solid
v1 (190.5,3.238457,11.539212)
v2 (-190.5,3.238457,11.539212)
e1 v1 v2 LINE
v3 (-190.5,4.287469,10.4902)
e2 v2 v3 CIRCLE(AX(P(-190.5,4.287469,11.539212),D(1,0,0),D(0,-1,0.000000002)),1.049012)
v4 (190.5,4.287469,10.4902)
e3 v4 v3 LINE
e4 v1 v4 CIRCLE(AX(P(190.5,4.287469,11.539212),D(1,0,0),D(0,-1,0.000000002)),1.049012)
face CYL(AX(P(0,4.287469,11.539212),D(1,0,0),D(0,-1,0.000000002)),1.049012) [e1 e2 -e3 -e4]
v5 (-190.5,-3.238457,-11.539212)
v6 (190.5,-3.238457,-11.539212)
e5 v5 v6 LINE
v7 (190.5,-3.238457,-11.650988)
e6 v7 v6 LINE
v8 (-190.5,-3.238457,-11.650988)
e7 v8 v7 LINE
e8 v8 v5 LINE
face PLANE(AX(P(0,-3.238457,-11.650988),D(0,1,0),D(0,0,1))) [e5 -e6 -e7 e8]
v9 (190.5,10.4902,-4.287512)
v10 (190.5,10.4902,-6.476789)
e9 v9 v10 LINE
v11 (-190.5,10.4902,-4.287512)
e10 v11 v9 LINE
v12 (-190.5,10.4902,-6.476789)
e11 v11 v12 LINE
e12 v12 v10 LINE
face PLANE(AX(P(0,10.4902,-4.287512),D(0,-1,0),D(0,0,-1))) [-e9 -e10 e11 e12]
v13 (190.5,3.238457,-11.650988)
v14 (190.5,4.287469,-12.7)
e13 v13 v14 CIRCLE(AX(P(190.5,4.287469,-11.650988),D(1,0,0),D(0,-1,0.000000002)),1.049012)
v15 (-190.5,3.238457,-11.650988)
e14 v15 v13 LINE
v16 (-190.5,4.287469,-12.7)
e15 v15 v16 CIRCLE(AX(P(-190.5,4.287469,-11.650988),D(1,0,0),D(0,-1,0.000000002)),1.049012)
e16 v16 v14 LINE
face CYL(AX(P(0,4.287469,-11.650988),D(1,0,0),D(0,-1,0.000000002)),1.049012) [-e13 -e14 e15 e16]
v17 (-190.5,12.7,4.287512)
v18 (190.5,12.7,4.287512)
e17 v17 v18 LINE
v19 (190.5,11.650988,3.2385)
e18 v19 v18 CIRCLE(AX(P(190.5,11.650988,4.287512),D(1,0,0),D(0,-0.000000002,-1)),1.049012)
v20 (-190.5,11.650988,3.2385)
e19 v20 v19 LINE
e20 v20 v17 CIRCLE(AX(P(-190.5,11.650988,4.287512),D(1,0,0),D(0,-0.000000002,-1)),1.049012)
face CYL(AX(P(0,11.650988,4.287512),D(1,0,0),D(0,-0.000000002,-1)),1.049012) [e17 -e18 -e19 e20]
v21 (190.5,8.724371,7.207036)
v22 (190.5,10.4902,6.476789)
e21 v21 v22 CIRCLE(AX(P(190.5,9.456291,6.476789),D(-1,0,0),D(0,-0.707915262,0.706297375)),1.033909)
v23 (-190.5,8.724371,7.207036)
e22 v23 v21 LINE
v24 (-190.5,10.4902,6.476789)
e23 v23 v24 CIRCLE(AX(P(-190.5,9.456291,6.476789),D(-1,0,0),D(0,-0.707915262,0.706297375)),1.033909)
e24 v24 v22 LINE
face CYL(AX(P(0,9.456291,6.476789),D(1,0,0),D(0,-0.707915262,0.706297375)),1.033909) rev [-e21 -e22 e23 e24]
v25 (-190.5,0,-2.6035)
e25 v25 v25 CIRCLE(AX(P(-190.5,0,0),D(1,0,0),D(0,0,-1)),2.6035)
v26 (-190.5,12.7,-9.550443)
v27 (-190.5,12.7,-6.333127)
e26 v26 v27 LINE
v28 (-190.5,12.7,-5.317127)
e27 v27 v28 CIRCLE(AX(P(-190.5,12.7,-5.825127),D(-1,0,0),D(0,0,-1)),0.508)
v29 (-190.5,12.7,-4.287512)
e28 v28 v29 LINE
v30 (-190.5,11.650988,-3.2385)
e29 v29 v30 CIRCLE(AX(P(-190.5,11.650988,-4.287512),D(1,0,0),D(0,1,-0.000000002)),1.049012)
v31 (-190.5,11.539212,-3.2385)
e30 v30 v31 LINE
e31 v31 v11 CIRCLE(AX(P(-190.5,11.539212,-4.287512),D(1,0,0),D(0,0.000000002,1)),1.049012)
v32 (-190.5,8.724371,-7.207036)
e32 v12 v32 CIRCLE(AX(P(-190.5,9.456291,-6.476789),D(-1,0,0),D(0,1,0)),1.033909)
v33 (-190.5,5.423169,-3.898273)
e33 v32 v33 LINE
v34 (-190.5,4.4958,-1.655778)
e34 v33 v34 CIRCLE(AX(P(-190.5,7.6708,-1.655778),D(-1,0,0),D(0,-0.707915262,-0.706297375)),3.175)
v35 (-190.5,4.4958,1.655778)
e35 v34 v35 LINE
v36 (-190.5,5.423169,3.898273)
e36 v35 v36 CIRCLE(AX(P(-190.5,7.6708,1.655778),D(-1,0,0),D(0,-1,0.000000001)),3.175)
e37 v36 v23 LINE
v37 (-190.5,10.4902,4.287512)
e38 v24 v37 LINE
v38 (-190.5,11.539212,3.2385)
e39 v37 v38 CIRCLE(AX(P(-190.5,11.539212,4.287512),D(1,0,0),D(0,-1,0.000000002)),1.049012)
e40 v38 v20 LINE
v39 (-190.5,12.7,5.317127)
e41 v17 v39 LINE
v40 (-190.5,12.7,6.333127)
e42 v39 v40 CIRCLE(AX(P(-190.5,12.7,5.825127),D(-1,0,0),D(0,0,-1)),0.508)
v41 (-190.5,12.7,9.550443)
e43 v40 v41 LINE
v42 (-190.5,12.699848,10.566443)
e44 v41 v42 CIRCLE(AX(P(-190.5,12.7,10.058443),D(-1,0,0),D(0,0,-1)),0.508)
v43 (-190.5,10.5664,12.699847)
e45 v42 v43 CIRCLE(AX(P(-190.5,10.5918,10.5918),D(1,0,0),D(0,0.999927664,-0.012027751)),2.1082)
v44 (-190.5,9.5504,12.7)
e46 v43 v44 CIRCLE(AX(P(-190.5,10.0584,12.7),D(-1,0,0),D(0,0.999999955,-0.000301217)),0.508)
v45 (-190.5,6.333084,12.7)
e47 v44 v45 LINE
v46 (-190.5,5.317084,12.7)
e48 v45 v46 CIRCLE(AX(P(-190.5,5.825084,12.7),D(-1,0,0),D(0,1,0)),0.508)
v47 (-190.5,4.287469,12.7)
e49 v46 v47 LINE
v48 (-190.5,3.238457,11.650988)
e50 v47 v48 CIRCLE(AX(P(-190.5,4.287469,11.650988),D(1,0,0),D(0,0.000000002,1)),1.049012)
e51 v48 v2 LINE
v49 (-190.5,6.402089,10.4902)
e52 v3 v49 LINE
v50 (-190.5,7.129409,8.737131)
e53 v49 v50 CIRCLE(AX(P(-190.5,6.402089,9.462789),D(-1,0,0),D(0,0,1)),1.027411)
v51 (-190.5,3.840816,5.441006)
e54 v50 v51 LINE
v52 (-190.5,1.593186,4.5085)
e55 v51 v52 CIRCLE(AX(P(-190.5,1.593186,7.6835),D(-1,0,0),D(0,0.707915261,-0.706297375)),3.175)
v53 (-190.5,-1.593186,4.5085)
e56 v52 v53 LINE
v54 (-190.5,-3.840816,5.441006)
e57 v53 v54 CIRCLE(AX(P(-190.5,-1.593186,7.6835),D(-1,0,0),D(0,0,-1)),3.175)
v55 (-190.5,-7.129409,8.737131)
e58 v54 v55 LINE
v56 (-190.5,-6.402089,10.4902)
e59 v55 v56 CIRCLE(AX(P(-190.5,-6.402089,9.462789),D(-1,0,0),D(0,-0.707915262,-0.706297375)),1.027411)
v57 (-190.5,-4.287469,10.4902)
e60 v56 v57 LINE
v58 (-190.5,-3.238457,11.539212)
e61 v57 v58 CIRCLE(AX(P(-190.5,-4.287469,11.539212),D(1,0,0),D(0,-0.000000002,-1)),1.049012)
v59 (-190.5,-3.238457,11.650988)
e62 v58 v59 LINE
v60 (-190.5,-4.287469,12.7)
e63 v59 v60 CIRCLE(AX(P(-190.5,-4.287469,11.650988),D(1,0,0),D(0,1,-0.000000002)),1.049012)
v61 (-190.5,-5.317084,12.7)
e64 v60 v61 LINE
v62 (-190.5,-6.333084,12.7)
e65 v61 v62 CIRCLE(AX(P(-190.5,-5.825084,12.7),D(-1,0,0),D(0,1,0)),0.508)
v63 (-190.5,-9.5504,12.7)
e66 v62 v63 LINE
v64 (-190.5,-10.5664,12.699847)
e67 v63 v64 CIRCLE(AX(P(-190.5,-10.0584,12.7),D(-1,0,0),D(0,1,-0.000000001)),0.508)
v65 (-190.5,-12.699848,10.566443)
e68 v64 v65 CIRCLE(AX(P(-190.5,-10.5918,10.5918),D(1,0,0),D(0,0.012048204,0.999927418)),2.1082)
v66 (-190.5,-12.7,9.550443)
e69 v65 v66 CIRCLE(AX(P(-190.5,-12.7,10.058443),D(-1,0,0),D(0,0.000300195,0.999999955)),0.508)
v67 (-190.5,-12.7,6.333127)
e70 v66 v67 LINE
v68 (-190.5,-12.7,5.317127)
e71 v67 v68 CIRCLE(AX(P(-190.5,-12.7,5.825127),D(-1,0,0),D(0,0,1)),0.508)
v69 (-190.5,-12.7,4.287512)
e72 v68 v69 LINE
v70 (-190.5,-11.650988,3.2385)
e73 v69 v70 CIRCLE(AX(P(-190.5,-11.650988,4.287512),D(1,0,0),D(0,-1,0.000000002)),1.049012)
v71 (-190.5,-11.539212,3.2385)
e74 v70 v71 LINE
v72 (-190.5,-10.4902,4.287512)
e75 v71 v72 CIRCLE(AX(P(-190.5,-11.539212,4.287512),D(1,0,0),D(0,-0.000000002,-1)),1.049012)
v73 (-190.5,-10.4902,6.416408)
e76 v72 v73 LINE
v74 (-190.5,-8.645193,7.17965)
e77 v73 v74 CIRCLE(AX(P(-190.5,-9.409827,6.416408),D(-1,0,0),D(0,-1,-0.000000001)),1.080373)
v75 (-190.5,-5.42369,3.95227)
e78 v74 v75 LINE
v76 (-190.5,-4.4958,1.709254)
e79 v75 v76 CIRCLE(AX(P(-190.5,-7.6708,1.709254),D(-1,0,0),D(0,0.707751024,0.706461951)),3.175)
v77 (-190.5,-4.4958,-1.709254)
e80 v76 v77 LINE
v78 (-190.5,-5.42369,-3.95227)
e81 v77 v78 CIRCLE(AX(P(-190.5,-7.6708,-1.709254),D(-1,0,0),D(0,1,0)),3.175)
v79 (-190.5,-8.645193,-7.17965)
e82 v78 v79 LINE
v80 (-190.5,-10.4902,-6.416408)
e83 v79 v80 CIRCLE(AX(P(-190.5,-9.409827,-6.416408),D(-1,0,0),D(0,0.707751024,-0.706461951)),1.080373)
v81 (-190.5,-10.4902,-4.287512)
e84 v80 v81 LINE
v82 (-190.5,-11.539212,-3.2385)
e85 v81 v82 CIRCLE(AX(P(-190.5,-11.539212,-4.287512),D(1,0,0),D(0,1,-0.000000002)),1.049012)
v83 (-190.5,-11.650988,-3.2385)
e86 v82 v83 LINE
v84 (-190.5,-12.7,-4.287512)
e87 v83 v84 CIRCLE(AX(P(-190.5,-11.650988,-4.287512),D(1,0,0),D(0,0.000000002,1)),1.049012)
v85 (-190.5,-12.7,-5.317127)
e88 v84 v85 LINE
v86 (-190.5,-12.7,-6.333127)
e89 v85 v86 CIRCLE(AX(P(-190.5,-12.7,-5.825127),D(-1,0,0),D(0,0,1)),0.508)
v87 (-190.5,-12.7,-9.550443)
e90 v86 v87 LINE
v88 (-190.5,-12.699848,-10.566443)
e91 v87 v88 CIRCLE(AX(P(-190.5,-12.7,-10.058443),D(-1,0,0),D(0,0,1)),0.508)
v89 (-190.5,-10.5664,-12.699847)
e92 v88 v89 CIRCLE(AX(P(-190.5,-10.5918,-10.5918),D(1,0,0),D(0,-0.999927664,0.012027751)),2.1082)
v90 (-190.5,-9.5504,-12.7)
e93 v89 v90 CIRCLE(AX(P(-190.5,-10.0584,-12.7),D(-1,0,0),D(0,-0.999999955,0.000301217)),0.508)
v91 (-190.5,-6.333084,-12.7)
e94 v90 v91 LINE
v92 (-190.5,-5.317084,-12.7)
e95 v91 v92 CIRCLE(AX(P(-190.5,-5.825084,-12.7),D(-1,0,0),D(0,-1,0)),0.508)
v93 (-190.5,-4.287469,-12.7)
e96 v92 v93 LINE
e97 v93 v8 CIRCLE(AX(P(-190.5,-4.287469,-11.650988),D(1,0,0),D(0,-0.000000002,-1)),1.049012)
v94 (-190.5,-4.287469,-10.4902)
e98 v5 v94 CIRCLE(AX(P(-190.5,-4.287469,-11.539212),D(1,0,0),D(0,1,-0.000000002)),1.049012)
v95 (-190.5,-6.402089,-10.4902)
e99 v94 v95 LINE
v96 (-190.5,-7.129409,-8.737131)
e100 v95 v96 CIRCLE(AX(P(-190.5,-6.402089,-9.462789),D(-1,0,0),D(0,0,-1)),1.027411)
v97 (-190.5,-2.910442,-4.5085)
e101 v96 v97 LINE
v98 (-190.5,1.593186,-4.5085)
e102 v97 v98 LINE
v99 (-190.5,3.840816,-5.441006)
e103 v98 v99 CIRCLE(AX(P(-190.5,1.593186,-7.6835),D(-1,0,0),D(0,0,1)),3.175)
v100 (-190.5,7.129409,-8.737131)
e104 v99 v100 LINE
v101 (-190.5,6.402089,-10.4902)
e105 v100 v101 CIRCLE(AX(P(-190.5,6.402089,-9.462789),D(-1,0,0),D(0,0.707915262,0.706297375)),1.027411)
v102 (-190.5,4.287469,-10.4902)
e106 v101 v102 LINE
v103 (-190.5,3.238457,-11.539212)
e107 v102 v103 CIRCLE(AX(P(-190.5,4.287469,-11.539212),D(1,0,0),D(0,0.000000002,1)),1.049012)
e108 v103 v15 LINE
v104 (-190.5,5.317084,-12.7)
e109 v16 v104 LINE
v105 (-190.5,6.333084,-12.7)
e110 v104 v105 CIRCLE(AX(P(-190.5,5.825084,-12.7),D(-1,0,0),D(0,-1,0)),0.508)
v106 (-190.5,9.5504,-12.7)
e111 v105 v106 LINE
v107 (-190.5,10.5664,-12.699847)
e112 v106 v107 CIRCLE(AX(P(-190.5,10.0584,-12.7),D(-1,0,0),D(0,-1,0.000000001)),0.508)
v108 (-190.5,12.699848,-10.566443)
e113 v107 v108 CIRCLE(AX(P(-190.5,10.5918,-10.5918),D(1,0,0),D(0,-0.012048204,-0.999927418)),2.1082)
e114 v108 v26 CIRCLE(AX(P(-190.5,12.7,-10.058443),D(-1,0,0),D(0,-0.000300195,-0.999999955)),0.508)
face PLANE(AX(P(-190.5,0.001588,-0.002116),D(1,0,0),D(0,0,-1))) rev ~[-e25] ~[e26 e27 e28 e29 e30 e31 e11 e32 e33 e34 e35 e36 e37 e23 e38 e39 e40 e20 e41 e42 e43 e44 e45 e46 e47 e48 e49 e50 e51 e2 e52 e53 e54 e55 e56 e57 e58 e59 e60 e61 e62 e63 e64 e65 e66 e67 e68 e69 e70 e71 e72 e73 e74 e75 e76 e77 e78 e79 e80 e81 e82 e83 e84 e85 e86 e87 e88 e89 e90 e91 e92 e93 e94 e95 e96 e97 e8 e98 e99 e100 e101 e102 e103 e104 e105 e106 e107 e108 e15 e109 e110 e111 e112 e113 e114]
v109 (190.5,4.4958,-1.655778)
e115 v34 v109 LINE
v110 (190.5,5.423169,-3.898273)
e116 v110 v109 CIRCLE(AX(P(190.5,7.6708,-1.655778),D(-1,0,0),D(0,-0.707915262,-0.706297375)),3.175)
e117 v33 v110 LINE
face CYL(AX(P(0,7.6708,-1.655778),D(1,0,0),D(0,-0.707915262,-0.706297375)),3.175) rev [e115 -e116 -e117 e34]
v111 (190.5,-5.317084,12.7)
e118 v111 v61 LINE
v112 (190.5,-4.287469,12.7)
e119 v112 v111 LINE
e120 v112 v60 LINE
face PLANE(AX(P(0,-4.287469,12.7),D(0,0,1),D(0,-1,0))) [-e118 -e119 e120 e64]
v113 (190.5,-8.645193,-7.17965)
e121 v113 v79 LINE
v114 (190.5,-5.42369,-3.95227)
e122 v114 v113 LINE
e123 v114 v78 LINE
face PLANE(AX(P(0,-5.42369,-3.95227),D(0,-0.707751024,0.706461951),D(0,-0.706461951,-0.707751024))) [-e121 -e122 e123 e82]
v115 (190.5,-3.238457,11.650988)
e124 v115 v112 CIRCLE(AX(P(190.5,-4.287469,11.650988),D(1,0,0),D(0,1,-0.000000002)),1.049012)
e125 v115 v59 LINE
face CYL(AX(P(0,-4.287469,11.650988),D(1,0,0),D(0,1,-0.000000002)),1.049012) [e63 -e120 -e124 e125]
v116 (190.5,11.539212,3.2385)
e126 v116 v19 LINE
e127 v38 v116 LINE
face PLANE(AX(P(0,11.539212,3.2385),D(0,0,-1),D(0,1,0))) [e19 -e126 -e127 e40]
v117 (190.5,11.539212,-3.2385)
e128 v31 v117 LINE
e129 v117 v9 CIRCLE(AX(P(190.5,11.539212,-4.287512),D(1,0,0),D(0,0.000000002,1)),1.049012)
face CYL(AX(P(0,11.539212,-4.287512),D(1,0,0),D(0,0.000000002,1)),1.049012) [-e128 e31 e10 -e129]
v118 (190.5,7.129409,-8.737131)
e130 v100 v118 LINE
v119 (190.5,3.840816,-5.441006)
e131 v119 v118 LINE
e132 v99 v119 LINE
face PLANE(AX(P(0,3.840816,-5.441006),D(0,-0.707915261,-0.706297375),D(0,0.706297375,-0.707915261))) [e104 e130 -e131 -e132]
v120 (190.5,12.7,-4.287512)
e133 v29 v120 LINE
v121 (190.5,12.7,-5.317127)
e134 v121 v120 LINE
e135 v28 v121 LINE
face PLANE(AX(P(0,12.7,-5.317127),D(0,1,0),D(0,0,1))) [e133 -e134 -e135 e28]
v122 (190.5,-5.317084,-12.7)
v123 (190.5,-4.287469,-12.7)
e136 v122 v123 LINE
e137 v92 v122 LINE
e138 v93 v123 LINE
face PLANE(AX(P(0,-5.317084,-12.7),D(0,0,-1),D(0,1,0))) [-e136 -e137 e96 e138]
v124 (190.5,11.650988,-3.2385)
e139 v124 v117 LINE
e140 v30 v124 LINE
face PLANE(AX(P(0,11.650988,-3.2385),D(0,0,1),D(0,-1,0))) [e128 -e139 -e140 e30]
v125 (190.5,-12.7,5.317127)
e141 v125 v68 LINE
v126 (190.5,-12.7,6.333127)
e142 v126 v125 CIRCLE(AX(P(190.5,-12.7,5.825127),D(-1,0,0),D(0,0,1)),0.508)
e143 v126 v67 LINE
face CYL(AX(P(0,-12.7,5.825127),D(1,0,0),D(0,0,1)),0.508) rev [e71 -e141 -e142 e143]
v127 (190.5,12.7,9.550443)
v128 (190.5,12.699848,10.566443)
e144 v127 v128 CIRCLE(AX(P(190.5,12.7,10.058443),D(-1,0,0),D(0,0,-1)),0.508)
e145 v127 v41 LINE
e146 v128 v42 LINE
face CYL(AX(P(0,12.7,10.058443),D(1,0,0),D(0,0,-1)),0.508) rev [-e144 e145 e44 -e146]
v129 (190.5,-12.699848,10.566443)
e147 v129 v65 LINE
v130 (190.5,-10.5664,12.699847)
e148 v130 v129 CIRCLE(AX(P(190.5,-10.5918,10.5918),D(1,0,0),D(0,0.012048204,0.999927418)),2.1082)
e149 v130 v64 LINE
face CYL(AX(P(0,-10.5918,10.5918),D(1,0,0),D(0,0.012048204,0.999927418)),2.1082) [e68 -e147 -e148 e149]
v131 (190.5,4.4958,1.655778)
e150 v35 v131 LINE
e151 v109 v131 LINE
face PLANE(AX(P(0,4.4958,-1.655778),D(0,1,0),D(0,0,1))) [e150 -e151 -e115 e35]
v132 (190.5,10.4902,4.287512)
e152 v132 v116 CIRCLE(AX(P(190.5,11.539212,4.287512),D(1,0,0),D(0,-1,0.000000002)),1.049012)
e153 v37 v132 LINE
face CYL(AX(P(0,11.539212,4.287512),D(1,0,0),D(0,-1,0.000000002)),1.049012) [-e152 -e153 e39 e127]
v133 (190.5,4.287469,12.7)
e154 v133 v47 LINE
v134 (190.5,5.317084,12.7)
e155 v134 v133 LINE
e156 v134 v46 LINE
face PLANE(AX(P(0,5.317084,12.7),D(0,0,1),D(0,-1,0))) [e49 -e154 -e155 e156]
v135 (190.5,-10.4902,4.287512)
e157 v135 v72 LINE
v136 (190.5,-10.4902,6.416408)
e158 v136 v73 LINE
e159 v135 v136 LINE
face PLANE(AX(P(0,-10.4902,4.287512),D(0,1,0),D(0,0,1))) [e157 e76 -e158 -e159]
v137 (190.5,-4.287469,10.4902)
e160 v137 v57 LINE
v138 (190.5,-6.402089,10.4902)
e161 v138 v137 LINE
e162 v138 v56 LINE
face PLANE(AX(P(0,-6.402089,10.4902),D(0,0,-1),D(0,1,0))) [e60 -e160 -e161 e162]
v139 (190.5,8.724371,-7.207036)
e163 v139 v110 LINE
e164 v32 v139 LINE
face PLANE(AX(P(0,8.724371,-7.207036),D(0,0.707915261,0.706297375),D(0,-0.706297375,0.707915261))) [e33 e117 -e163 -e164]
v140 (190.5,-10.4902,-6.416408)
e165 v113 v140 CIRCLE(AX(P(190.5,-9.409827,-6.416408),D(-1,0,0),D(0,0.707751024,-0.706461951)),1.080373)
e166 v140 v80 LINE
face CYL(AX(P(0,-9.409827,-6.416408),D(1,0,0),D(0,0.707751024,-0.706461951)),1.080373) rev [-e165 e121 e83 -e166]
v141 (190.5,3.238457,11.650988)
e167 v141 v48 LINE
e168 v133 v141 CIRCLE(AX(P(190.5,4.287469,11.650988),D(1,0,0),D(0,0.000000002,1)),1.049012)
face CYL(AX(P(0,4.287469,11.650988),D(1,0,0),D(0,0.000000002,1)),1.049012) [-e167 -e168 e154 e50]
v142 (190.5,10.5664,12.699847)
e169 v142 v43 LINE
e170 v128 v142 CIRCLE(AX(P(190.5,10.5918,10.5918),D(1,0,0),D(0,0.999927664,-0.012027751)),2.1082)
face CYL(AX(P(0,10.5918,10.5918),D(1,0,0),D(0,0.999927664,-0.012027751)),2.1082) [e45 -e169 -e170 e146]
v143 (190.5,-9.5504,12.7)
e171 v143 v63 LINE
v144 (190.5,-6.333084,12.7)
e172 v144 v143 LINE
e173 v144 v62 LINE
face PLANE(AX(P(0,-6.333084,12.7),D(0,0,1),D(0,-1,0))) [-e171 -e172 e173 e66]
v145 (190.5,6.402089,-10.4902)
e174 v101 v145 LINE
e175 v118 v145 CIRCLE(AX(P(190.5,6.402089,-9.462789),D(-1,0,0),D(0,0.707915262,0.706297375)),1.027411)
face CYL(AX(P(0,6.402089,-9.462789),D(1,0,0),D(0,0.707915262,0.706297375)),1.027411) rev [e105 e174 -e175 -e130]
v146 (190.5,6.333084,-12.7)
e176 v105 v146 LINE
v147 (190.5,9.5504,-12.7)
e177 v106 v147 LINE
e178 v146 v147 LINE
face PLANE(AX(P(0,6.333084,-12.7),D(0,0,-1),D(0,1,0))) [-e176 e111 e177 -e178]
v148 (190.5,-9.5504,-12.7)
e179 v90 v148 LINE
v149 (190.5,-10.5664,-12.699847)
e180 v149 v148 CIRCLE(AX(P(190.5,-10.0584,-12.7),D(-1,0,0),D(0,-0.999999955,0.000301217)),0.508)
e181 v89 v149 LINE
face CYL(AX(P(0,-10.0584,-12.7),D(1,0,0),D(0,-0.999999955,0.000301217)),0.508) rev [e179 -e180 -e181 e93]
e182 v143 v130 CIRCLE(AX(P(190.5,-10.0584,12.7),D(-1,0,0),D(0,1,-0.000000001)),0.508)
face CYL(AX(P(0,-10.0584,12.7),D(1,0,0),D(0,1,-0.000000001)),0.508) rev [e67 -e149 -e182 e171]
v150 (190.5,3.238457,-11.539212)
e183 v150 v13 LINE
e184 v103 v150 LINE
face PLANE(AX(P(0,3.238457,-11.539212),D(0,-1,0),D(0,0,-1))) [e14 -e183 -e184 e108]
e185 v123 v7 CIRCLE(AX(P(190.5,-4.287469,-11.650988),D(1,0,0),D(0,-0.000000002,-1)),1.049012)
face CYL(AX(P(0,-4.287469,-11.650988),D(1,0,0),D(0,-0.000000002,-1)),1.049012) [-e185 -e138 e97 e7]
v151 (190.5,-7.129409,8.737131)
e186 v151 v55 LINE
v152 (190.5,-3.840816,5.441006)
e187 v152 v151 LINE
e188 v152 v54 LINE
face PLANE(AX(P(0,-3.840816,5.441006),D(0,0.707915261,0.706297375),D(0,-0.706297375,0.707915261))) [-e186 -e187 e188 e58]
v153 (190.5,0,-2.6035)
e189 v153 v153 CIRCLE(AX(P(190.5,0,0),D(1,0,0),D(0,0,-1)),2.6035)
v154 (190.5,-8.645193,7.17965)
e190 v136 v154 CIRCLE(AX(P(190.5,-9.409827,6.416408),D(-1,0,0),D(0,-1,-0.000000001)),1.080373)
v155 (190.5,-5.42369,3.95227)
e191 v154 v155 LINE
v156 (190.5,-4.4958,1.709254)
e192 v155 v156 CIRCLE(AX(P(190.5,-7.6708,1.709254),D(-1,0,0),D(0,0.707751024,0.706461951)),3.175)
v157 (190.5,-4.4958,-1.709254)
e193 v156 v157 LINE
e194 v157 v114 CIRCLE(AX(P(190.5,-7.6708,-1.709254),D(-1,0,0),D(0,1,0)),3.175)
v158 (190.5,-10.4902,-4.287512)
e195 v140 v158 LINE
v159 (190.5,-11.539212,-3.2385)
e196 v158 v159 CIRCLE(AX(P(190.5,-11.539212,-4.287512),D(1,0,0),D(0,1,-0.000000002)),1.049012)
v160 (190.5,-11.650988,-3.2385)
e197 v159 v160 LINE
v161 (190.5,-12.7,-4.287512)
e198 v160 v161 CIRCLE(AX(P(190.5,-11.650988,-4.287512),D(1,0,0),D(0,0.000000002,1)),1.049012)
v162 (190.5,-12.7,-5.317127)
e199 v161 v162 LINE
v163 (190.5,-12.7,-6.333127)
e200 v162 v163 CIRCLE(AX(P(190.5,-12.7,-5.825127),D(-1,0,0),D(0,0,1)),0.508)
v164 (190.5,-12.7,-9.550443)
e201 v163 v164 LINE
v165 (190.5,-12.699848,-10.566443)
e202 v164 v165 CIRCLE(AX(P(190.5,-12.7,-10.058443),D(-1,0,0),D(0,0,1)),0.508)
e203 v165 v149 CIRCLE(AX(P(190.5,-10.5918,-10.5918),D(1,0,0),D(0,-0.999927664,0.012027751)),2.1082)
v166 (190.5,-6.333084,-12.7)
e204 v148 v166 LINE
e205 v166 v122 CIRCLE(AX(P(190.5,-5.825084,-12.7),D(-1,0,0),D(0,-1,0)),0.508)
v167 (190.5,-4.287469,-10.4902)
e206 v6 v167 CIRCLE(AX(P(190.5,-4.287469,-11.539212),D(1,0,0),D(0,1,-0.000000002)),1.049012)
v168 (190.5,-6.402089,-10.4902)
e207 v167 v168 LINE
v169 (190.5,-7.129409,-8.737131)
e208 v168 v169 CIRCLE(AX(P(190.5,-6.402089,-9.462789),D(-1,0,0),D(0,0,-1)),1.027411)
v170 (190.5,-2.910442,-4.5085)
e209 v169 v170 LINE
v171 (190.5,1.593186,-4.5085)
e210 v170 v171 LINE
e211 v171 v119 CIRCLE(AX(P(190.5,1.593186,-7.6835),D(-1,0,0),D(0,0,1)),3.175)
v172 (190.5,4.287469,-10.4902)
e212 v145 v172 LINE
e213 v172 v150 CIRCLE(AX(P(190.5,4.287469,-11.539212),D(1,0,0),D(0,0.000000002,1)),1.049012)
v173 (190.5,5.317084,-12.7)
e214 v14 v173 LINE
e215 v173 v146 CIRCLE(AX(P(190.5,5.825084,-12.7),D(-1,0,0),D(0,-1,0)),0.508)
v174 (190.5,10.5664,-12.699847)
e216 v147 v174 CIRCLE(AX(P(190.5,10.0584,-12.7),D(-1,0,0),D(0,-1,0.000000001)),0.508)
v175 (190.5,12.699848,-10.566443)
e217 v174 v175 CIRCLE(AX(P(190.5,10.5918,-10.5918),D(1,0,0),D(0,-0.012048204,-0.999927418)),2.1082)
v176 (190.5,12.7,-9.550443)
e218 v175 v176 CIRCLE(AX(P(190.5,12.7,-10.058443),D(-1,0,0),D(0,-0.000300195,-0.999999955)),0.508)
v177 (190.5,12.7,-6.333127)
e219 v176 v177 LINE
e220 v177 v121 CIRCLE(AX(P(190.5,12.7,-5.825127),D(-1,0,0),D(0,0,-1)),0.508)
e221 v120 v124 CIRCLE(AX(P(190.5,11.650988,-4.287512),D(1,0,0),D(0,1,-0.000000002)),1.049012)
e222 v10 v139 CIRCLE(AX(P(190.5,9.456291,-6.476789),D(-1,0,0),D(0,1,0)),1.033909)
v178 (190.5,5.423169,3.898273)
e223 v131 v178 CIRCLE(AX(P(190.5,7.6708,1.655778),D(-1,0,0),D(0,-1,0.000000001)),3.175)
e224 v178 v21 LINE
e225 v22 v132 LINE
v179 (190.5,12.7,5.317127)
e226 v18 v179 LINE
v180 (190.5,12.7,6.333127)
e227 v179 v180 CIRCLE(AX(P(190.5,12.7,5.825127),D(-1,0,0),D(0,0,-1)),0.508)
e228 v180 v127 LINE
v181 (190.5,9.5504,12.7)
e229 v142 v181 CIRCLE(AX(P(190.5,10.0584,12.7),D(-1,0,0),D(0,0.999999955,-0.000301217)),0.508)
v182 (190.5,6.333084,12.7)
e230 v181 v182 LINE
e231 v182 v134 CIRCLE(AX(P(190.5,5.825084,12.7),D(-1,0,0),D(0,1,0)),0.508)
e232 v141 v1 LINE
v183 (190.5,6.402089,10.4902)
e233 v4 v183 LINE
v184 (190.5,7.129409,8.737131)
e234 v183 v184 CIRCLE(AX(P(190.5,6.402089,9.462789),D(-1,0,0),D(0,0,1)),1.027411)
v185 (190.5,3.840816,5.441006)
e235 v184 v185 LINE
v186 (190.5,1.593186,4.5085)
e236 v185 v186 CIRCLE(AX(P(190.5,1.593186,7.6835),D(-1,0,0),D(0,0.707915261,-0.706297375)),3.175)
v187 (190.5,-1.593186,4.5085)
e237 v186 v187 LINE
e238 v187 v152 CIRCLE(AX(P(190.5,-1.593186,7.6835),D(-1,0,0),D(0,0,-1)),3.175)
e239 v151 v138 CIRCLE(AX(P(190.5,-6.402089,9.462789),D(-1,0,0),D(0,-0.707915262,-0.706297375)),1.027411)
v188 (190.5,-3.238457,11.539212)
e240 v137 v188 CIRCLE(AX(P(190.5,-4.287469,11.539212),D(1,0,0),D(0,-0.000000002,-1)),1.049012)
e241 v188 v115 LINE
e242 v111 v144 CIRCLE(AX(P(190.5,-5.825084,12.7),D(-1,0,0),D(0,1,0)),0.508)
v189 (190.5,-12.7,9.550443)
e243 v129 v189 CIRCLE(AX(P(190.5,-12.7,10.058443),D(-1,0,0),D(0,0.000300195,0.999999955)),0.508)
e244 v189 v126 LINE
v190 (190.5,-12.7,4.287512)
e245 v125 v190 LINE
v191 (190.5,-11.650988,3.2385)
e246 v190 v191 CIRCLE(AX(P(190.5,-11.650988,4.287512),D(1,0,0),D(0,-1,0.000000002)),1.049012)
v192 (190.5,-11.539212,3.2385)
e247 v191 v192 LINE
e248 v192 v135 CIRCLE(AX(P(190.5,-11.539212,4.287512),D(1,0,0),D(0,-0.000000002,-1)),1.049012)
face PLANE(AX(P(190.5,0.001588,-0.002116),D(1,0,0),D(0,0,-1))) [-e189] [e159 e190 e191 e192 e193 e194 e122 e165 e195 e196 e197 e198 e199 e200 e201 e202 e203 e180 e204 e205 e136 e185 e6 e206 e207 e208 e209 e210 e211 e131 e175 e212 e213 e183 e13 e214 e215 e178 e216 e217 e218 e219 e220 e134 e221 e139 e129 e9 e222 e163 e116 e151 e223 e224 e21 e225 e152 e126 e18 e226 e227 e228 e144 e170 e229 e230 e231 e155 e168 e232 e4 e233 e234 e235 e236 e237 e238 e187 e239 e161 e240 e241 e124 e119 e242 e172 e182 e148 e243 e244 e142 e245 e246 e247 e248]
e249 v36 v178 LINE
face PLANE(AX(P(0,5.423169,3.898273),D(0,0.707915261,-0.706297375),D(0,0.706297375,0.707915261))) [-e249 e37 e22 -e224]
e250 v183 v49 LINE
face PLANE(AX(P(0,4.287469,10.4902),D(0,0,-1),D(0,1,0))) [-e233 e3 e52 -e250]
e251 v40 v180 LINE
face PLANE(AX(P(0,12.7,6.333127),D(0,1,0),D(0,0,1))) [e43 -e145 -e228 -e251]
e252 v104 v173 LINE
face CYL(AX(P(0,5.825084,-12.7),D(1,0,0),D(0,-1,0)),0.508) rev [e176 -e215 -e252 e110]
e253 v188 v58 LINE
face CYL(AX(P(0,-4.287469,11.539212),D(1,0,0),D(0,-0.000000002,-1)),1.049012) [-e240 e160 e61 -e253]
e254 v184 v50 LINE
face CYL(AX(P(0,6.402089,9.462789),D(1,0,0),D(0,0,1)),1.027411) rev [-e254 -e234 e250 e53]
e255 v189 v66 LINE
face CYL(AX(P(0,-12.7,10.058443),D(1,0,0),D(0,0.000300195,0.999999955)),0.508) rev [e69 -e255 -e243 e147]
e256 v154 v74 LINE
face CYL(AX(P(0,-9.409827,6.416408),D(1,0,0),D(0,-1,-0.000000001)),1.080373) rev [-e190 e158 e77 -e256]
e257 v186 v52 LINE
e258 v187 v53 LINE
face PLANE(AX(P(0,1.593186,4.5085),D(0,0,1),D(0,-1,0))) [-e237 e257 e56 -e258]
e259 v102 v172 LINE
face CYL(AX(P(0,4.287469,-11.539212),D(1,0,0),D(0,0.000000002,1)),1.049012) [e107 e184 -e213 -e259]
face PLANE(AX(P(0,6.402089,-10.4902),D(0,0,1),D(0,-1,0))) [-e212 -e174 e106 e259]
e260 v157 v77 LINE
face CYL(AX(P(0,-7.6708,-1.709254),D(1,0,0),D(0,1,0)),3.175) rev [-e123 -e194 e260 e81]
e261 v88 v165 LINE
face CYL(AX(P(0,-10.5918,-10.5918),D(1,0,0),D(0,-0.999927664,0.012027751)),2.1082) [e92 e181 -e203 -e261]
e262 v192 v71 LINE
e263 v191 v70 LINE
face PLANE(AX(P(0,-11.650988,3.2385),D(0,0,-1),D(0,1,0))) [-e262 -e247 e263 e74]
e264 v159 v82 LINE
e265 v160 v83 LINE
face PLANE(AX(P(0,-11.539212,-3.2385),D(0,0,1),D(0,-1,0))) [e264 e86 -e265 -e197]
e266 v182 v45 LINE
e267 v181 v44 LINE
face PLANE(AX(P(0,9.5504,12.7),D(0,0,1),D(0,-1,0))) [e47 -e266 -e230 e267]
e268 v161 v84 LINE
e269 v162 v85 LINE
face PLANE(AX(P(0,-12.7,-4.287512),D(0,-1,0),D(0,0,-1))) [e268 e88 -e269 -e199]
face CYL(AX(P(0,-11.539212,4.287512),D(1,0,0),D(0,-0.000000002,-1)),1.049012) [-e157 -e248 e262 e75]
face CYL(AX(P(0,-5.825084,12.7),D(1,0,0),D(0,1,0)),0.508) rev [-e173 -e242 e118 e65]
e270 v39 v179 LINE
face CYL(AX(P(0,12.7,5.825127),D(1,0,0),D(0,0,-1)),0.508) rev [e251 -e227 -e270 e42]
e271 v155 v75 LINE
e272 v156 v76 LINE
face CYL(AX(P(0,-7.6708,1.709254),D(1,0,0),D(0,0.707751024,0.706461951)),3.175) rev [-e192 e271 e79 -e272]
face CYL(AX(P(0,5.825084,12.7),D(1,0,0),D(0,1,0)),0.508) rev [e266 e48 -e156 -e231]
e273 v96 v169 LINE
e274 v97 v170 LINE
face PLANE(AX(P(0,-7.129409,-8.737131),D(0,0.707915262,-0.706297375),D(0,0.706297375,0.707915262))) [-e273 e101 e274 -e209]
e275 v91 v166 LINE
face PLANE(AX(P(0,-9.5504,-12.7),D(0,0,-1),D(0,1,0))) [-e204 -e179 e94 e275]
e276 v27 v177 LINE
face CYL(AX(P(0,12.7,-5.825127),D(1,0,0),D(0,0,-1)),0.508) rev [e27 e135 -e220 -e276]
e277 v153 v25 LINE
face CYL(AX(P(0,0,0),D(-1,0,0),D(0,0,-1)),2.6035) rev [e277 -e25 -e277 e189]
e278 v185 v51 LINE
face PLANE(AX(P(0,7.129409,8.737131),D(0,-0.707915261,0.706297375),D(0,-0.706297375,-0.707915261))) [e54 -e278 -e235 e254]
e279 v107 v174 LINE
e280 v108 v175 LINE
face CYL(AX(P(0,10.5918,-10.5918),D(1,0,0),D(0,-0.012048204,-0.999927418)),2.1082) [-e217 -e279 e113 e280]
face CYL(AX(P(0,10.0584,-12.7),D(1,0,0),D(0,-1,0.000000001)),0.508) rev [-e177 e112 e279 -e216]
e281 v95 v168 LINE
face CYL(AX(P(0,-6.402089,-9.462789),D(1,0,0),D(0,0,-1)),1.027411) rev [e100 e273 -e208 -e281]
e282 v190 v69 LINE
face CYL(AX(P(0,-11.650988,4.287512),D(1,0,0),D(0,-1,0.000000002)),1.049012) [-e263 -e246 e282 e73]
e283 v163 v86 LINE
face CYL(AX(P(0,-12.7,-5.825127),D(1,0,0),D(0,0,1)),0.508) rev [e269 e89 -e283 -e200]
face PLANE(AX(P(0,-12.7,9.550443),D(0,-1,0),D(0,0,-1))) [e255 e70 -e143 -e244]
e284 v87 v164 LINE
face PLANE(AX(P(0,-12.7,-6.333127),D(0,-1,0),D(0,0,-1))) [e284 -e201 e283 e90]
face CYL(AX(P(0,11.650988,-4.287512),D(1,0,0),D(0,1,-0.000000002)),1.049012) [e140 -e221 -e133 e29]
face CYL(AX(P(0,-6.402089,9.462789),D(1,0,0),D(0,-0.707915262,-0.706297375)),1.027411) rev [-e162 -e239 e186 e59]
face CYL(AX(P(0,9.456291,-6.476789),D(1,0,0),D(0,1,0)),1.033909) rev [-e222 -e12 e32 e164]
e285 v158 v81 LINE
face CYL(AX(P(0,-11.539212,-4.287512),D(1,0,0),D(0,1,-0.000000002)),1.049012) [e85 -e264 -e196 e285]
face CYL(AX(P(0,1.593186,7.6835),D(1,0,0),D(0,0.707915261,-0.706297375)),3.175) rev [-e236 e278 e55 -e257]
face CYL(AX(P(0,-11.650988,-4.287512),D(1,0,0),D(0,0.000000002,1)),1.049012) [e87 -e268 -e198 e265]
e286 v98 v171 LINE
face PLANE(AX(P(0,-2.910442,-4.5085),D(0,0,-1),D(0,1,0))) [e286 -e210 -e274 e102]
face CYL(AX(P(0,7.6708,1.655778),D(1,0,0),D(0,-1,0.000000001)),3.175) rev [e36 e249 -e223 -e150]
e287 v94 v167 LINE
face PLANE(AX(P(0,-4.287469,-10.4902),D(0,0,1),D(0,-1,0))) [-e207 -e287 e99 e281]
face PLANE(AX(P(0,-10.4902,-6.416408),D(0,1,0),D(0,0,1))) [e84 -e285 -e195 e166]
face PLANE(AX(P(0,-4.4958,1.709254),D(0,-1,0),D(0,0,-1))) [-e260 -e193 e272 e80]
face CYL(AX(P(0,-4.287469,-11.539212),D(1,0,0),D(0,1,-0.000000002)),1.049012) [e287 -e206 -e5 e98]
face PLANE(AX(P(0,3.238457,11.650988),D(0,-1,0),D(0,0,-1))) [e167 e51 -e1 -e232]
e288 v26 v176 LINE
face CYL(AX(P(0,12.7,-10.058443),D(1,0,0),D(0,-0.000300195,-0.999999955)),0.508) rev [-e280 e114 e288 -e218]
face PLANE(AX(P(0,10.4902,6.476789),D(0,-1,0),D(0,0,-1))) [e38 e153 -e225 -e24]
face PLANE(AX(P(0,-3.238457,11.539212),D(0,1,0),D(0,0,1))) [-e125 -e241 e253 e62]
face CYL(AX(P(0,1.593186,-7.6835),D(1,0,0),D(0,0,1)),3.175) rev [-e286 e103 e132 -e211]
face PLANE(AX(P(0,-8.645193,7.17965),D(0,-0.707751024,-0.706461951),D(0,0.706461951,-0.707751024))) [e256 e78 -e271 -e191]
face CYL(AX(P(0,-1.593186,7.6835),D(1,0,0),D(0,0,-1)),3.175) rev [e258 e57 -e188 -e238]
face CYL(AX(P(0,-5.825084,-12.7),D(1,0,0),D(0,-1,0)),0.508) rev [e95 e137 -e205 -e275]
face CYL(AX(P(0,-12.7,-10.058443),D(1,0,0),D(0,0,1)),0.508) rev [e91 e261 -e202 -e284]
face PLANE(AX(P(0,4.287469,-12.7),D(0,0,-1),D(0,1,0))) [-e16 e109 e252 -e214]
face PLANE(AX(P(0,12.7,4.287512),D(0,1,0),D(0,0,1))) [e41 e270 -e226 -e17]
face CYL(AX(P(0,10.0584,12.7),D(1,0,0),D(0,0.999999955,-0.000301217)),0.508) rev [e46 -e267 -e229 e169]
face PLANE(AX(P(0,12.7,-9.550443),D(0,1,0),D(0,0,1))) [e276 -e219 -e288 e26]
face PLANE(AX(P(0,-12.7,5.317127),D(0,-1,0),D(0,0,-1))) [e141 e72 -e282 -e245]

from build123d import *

# Parameters (mm, degrees)
SKETCH1_R           = 2.6035
BOSS_EXTRUDE1_DEPTH = 190.5


with BuildPart() as part:
    # Sketch1 → Boss-Extrude1 (new body, symmetric)
    with BuildSketch(Plane(origin=(0, 0, 0), x_dir=(0, 0, -1), z_dir=(1, 0, 0))):
        with BuildLine():
            Line((6.333126718, -12.7), (9.550443118, -12.7))
            ThreePointArc((9.550443118, -12.7), (10.058366869, -12.192000006), (10.566443095, -12.699847501))
            ThreePointArc((10.566443095, -12.699847501), (12.082537762, -12.08250727), (12.699846982, -10.566399977))
            ThreePointArc((12.699846982, -10.566399977), (12.192000006, -10.058323491), (12.7, -9.5504))
            Line((12.7, -9.5504), (12.7, -6.3330836))
            ThreePointArc((12.7, -6.3330836), (12.192, -5.8250836), (12.7, -5.3170836))
            Line((12.7, -5.3170836), (12.7, -4.287469289))
            ThreePointArc((12.7, -4.287469289), (12.39275138, -3.545705502), (11.650987593, -3.238456882))
            Line((11.650987593, -3.238456882), (11.539212407, -3.238456882))
            ThreePointArc((11.539212407, -3.238456882), (10.79744862, -3.545705502), (10.4902, -4.287469289))
            Line((10.4902, -4.287469289), (10.4902, -6.402089023))
            ThreePointArc((10.4902, -6.402089023), (9.856505071, -7.351067942), (8.737131347, -7.129408934))
            Line((8.737131347, -7.129408934), (4.5085, -2.9104418))
            Line((4.5085, -2.9104418), (4.5085, 1.593185507))
            ThreePointArc((4.5085, 1.593185507), (4.750877967, 2.809883091), (5.441005833, 3.840816462))
            Line((5.441005833, 3.840816462), (8.737131347, 7.129408934))
            ThreePointArc((8.737131347, 7.129408934), (9.856505071, 7.351067942), (10.4902, 6.402089023))
            Line((10.4902, 6.402089023), (10.4902, 4.287469289))
            ThreePointArc((10.4902, 4.287469289), (10.79744862, 3.545705502), (11.539212407, 3.238456882))
            Line((11.539212407, 3.238456882), (11.650987593, 3.238456882))
            ThreePointArc((11.650987593, 3.238456882), (12.39275138, 3.545705502), (12.7, 4.287469289))
            Line((12.7, 4.287469289), (12.7, 5.3170836))
            ThreePointArc((12.7, 5.3170836), (12.192, 5.8250836), (12.7, 6.3330836))
            Line((12.7, 6.3330836), (12.7, 9.5504))
            ThreePointArc((12.7, 9.5504), (12.192000006, 10.058323491), (12.699846982, 10.566399977))
            ThreePointArc((12.699846982, 10.566399977), (12.082537762, 12.08250727), (10.566443095, 12.699847501))
            ThreePointArc((10.566443095, 12.699847501), (10.058366869, 12.192000006), (9.550443118, 12.7))
            Line((9.550443118, 12.7), (6.333126718, 12.7))
            ThreePointArc((6.333126718, 12.7), (5.825126718, 12.192), (5.317126718, 12.7))
            Line((5.317126718, 12.7), (4.287512407, 12.7))
            ThreePointArc((4.287512407, 12.7), (3.54574862, 12.39275138), (3.2385, 11.650987593))
            Line((3.2385, 11.650987593), (3.2385, 11.539212407))
            ThreePointArc((3.2385, 11.539212407), (3.54574862, 10.79744862), (4.287512407, 10.4902))
            Line((4.287512407, 10.4902), (6.476788598, 10.4902))
            ThreePointArc((6.476788598, 10.4902), (7.432222385, 9.85140422), (7.207036008, 8.724370562))
            Line((7.207036008, 8.724370562), (3.898272566, 5.423169045))
            ThreePointArc((3.898272566, 5.423169045), (2.869120213, 4.736787962), (1.655778399, 4.4958))
            Line((1.655778399, 4.4958), (-1.655778399, 4.4958))
            ThreePointArc((-1.655778399, 4.4958), (-2.869120213, 4.736787962), (-3.898272566, 5.423169045))
            Line((-3.898272566, 5.423169045), (-7.207036008, 8.724370562))
            ThreePointArc((-7.207036008, 8.724370562), (-7.432222385, 9.85140422), (-6.476788598, 10.4902))
            Line((-6.476788598, 10.4902), (-4.287512407, 10.4902))
            ThreePointArc((-4.287512407, 10.4902), (-3.54574862, 10.79744862), (-3.2385, 11.539212407))
            Line((-3.2385, 11.539212407), (-3.2385, 11.650987593))
            ThreePointArc((-3.2385, 11.650987593), (-3.54574862, 12.39275138), (-4.287512407, 12.7))
            Line((-4.287512407, 12.7), (-5.317126718, 12.7))
            ThreePointArc((-5.317126718, 12.7), (-5.825126718, 12.192), (-6.333126718, 12.7))
            Line((-6.333126718, 12.7), (-9.550443118, 12.7))
            ThreePointArc((-9.550443118, 12.7), (-10.058366869, 12.192000006), (-10.566443095, 12.699847501))
            ThreePointArc((-10.566443095, 12.699847501), (-12.082537762, 12.08250727), (-12.699846982, 10.566399977))
            ThreePointArc((-12.699846982, 10.566399977), (-12.192000006, 10.058323491), (-12.7, 9.5504))
            Line((-12.7, 9.5504), (-12.7, 6.3330836))
            ThreePointArc((-12.7, 6.3330836), (-12.192, 5.8250836), (-12.7, 5.3170836))
            Line((-12.7, 5.3170836), (-12.7, 4.287469289))
            ThreePointArc((-12.7, 4.287469289), (-12.39275138, 3.545705502), (-11.650987593, 3.238456882))
            Line((-11.650987593, 3.238456882), (-11.539212407, 3.238456882))
            ThreePointArc((-11.539212407, 3.238456882), (-10.79744862, 3.545705502), (-10.4902, 4.287469289))
            Line((-10.4902, 4.287469289), (-10.4902, 6.402089023))
            ThreePointArc((-10.4902, 6.402089023), (-9.856505071, 7.351067942), (-8.737131347, 7.129408934))
            Line((-8.737131347, 7.129408934), (-5.441005833, 3.840816462))
            ThreePointArc((-5.441005833, 3.840816462), (-4.750877967, 2.809883091), (-4.5085, 1.593185507))
            Line((-4.5085, 1.593185507), (-4.5085, -1.593185507))
            ThreePointArc((-4.5085, -1.593185507), (-4.750877967, -2.809883091), (-5.441005833, -3.840816462))
            Line((-5.441005833, -3.840816462), (-8.737131347, -7.129408934))
            ThreePointArc((-8.737131347, -7.129408934), (-9.856505071, -7.351067942), (-10.4902, -6.402089023))
            Line((-10.4902, -6.402089023), (-10.4902, -4.287469289))
            ThreePointArc((-10.4902, -4.287469289), (-10.79744862, -3.545705502), (-11.539212407, -3.238456882))
            Line((-11.539212407, -3.238456882), (-11.650987593, -3.238456882))
            ThreePointArc((-11.650987593, -3.238456882), (-12.39275138, -3.545705502), (-12.7, -4.287469289))
            Line((-12.7, -4.287469289), (-12.7, -5.3170836))
            ThreePointArc((-12.7, -5.3170836), (-12.192, -5.8250836), (-12.7, -6.3330836))
            Line((-12.7, -6.3330836), (-12.7, -9.5504))
            ThreePointArc((-12.7, -9.5504), (-12.192000006, -10.058323491), (-12.699846982, -10.566399977))
            ThreePointArc((-12.699846982, -10.566399977), (-12.082537762, -12.08250727), (-10.566443095, -12.699847501))
            ThreePointArc((-10.566443095, -12.699847501), (-10.058366869, -12.192000006), (-9.550443118, -12.7))
            Line((-9.550443118, -12.7), (-6.333126718, -12.7))
            ThreePointArc((-6.333126718, -12.7), (-5.825126718, -12.192), (-5.317126718, -12.7))
            Line((-5.317126718, -12.7), (-4.287512407, -12.7))
            ThreePointArc((-4.287512407, -12.7), (-3.54574862, -12.39275138), (-3.2385, -11.650987593))
            Line((-3.2385, -11.650987593), (-3.2385, -11.539212407))
            ThreePointArc((-3.2385, -11.539212407), (-3.54574862, -10.79744862), (-4.287512407, -10.4902))
            Line((-4.287512407, -10.4902), (-6.416408329, -10.4902))
            ThreePointArc((-6.416408329, -10.4902), (-7.41473083, -9.822813117), (-7.179650497, -8.645192506))
            Line((-7.179650497, -8.645192506), (-3.952270251, -5.423690499))
            ThreePointArc((-3.952270251, -5.423690499), (-2.922936451, -4.736929036), (-1.709253557, -4.4958))
            Line((-1.709253557, -4.4958), (1.709253557, -4.4958))
            ThreePointArc((1.709253557, -4.4958), (2.922936451, -4.736929036), (3.952270251, -5.423690499))
            Line((3.952270251, -5.423690499), (7.179650497, -8.645192506))
            ThreePointArc((7.179650497, -8.645192506), (7.41473083, -9.822813117), (6.416408329, -10.4902))
            Line((6.416408329, -10.4902), (4.287512407, -10.4902))
            ThreePointArc((4.287512407, -10.4902), (3.54574862, -10.79744862), (3.2385, -11.539212407))
            Line((3.2385, -11.539212407), (3.2385, -11.650987593))
            ThreePointArc((3.2385, -11.650987593), (3.54574862, -12.39275138), (4.287512407, -12.7))
            Line((4.287512407, -12.7), (5.317126718, -12.7))
            ThreePointArc((5.317126718, -12.7), (5.825126718, -12.192), (6.333126718, -12.7))
        make_face()
        Circle(SKETCH1_R, mode=Mode.SUBTRACT)
    extrude(amount=BOSS_EXTRUDE1_DEPTH, both=True)


solid = part.part
